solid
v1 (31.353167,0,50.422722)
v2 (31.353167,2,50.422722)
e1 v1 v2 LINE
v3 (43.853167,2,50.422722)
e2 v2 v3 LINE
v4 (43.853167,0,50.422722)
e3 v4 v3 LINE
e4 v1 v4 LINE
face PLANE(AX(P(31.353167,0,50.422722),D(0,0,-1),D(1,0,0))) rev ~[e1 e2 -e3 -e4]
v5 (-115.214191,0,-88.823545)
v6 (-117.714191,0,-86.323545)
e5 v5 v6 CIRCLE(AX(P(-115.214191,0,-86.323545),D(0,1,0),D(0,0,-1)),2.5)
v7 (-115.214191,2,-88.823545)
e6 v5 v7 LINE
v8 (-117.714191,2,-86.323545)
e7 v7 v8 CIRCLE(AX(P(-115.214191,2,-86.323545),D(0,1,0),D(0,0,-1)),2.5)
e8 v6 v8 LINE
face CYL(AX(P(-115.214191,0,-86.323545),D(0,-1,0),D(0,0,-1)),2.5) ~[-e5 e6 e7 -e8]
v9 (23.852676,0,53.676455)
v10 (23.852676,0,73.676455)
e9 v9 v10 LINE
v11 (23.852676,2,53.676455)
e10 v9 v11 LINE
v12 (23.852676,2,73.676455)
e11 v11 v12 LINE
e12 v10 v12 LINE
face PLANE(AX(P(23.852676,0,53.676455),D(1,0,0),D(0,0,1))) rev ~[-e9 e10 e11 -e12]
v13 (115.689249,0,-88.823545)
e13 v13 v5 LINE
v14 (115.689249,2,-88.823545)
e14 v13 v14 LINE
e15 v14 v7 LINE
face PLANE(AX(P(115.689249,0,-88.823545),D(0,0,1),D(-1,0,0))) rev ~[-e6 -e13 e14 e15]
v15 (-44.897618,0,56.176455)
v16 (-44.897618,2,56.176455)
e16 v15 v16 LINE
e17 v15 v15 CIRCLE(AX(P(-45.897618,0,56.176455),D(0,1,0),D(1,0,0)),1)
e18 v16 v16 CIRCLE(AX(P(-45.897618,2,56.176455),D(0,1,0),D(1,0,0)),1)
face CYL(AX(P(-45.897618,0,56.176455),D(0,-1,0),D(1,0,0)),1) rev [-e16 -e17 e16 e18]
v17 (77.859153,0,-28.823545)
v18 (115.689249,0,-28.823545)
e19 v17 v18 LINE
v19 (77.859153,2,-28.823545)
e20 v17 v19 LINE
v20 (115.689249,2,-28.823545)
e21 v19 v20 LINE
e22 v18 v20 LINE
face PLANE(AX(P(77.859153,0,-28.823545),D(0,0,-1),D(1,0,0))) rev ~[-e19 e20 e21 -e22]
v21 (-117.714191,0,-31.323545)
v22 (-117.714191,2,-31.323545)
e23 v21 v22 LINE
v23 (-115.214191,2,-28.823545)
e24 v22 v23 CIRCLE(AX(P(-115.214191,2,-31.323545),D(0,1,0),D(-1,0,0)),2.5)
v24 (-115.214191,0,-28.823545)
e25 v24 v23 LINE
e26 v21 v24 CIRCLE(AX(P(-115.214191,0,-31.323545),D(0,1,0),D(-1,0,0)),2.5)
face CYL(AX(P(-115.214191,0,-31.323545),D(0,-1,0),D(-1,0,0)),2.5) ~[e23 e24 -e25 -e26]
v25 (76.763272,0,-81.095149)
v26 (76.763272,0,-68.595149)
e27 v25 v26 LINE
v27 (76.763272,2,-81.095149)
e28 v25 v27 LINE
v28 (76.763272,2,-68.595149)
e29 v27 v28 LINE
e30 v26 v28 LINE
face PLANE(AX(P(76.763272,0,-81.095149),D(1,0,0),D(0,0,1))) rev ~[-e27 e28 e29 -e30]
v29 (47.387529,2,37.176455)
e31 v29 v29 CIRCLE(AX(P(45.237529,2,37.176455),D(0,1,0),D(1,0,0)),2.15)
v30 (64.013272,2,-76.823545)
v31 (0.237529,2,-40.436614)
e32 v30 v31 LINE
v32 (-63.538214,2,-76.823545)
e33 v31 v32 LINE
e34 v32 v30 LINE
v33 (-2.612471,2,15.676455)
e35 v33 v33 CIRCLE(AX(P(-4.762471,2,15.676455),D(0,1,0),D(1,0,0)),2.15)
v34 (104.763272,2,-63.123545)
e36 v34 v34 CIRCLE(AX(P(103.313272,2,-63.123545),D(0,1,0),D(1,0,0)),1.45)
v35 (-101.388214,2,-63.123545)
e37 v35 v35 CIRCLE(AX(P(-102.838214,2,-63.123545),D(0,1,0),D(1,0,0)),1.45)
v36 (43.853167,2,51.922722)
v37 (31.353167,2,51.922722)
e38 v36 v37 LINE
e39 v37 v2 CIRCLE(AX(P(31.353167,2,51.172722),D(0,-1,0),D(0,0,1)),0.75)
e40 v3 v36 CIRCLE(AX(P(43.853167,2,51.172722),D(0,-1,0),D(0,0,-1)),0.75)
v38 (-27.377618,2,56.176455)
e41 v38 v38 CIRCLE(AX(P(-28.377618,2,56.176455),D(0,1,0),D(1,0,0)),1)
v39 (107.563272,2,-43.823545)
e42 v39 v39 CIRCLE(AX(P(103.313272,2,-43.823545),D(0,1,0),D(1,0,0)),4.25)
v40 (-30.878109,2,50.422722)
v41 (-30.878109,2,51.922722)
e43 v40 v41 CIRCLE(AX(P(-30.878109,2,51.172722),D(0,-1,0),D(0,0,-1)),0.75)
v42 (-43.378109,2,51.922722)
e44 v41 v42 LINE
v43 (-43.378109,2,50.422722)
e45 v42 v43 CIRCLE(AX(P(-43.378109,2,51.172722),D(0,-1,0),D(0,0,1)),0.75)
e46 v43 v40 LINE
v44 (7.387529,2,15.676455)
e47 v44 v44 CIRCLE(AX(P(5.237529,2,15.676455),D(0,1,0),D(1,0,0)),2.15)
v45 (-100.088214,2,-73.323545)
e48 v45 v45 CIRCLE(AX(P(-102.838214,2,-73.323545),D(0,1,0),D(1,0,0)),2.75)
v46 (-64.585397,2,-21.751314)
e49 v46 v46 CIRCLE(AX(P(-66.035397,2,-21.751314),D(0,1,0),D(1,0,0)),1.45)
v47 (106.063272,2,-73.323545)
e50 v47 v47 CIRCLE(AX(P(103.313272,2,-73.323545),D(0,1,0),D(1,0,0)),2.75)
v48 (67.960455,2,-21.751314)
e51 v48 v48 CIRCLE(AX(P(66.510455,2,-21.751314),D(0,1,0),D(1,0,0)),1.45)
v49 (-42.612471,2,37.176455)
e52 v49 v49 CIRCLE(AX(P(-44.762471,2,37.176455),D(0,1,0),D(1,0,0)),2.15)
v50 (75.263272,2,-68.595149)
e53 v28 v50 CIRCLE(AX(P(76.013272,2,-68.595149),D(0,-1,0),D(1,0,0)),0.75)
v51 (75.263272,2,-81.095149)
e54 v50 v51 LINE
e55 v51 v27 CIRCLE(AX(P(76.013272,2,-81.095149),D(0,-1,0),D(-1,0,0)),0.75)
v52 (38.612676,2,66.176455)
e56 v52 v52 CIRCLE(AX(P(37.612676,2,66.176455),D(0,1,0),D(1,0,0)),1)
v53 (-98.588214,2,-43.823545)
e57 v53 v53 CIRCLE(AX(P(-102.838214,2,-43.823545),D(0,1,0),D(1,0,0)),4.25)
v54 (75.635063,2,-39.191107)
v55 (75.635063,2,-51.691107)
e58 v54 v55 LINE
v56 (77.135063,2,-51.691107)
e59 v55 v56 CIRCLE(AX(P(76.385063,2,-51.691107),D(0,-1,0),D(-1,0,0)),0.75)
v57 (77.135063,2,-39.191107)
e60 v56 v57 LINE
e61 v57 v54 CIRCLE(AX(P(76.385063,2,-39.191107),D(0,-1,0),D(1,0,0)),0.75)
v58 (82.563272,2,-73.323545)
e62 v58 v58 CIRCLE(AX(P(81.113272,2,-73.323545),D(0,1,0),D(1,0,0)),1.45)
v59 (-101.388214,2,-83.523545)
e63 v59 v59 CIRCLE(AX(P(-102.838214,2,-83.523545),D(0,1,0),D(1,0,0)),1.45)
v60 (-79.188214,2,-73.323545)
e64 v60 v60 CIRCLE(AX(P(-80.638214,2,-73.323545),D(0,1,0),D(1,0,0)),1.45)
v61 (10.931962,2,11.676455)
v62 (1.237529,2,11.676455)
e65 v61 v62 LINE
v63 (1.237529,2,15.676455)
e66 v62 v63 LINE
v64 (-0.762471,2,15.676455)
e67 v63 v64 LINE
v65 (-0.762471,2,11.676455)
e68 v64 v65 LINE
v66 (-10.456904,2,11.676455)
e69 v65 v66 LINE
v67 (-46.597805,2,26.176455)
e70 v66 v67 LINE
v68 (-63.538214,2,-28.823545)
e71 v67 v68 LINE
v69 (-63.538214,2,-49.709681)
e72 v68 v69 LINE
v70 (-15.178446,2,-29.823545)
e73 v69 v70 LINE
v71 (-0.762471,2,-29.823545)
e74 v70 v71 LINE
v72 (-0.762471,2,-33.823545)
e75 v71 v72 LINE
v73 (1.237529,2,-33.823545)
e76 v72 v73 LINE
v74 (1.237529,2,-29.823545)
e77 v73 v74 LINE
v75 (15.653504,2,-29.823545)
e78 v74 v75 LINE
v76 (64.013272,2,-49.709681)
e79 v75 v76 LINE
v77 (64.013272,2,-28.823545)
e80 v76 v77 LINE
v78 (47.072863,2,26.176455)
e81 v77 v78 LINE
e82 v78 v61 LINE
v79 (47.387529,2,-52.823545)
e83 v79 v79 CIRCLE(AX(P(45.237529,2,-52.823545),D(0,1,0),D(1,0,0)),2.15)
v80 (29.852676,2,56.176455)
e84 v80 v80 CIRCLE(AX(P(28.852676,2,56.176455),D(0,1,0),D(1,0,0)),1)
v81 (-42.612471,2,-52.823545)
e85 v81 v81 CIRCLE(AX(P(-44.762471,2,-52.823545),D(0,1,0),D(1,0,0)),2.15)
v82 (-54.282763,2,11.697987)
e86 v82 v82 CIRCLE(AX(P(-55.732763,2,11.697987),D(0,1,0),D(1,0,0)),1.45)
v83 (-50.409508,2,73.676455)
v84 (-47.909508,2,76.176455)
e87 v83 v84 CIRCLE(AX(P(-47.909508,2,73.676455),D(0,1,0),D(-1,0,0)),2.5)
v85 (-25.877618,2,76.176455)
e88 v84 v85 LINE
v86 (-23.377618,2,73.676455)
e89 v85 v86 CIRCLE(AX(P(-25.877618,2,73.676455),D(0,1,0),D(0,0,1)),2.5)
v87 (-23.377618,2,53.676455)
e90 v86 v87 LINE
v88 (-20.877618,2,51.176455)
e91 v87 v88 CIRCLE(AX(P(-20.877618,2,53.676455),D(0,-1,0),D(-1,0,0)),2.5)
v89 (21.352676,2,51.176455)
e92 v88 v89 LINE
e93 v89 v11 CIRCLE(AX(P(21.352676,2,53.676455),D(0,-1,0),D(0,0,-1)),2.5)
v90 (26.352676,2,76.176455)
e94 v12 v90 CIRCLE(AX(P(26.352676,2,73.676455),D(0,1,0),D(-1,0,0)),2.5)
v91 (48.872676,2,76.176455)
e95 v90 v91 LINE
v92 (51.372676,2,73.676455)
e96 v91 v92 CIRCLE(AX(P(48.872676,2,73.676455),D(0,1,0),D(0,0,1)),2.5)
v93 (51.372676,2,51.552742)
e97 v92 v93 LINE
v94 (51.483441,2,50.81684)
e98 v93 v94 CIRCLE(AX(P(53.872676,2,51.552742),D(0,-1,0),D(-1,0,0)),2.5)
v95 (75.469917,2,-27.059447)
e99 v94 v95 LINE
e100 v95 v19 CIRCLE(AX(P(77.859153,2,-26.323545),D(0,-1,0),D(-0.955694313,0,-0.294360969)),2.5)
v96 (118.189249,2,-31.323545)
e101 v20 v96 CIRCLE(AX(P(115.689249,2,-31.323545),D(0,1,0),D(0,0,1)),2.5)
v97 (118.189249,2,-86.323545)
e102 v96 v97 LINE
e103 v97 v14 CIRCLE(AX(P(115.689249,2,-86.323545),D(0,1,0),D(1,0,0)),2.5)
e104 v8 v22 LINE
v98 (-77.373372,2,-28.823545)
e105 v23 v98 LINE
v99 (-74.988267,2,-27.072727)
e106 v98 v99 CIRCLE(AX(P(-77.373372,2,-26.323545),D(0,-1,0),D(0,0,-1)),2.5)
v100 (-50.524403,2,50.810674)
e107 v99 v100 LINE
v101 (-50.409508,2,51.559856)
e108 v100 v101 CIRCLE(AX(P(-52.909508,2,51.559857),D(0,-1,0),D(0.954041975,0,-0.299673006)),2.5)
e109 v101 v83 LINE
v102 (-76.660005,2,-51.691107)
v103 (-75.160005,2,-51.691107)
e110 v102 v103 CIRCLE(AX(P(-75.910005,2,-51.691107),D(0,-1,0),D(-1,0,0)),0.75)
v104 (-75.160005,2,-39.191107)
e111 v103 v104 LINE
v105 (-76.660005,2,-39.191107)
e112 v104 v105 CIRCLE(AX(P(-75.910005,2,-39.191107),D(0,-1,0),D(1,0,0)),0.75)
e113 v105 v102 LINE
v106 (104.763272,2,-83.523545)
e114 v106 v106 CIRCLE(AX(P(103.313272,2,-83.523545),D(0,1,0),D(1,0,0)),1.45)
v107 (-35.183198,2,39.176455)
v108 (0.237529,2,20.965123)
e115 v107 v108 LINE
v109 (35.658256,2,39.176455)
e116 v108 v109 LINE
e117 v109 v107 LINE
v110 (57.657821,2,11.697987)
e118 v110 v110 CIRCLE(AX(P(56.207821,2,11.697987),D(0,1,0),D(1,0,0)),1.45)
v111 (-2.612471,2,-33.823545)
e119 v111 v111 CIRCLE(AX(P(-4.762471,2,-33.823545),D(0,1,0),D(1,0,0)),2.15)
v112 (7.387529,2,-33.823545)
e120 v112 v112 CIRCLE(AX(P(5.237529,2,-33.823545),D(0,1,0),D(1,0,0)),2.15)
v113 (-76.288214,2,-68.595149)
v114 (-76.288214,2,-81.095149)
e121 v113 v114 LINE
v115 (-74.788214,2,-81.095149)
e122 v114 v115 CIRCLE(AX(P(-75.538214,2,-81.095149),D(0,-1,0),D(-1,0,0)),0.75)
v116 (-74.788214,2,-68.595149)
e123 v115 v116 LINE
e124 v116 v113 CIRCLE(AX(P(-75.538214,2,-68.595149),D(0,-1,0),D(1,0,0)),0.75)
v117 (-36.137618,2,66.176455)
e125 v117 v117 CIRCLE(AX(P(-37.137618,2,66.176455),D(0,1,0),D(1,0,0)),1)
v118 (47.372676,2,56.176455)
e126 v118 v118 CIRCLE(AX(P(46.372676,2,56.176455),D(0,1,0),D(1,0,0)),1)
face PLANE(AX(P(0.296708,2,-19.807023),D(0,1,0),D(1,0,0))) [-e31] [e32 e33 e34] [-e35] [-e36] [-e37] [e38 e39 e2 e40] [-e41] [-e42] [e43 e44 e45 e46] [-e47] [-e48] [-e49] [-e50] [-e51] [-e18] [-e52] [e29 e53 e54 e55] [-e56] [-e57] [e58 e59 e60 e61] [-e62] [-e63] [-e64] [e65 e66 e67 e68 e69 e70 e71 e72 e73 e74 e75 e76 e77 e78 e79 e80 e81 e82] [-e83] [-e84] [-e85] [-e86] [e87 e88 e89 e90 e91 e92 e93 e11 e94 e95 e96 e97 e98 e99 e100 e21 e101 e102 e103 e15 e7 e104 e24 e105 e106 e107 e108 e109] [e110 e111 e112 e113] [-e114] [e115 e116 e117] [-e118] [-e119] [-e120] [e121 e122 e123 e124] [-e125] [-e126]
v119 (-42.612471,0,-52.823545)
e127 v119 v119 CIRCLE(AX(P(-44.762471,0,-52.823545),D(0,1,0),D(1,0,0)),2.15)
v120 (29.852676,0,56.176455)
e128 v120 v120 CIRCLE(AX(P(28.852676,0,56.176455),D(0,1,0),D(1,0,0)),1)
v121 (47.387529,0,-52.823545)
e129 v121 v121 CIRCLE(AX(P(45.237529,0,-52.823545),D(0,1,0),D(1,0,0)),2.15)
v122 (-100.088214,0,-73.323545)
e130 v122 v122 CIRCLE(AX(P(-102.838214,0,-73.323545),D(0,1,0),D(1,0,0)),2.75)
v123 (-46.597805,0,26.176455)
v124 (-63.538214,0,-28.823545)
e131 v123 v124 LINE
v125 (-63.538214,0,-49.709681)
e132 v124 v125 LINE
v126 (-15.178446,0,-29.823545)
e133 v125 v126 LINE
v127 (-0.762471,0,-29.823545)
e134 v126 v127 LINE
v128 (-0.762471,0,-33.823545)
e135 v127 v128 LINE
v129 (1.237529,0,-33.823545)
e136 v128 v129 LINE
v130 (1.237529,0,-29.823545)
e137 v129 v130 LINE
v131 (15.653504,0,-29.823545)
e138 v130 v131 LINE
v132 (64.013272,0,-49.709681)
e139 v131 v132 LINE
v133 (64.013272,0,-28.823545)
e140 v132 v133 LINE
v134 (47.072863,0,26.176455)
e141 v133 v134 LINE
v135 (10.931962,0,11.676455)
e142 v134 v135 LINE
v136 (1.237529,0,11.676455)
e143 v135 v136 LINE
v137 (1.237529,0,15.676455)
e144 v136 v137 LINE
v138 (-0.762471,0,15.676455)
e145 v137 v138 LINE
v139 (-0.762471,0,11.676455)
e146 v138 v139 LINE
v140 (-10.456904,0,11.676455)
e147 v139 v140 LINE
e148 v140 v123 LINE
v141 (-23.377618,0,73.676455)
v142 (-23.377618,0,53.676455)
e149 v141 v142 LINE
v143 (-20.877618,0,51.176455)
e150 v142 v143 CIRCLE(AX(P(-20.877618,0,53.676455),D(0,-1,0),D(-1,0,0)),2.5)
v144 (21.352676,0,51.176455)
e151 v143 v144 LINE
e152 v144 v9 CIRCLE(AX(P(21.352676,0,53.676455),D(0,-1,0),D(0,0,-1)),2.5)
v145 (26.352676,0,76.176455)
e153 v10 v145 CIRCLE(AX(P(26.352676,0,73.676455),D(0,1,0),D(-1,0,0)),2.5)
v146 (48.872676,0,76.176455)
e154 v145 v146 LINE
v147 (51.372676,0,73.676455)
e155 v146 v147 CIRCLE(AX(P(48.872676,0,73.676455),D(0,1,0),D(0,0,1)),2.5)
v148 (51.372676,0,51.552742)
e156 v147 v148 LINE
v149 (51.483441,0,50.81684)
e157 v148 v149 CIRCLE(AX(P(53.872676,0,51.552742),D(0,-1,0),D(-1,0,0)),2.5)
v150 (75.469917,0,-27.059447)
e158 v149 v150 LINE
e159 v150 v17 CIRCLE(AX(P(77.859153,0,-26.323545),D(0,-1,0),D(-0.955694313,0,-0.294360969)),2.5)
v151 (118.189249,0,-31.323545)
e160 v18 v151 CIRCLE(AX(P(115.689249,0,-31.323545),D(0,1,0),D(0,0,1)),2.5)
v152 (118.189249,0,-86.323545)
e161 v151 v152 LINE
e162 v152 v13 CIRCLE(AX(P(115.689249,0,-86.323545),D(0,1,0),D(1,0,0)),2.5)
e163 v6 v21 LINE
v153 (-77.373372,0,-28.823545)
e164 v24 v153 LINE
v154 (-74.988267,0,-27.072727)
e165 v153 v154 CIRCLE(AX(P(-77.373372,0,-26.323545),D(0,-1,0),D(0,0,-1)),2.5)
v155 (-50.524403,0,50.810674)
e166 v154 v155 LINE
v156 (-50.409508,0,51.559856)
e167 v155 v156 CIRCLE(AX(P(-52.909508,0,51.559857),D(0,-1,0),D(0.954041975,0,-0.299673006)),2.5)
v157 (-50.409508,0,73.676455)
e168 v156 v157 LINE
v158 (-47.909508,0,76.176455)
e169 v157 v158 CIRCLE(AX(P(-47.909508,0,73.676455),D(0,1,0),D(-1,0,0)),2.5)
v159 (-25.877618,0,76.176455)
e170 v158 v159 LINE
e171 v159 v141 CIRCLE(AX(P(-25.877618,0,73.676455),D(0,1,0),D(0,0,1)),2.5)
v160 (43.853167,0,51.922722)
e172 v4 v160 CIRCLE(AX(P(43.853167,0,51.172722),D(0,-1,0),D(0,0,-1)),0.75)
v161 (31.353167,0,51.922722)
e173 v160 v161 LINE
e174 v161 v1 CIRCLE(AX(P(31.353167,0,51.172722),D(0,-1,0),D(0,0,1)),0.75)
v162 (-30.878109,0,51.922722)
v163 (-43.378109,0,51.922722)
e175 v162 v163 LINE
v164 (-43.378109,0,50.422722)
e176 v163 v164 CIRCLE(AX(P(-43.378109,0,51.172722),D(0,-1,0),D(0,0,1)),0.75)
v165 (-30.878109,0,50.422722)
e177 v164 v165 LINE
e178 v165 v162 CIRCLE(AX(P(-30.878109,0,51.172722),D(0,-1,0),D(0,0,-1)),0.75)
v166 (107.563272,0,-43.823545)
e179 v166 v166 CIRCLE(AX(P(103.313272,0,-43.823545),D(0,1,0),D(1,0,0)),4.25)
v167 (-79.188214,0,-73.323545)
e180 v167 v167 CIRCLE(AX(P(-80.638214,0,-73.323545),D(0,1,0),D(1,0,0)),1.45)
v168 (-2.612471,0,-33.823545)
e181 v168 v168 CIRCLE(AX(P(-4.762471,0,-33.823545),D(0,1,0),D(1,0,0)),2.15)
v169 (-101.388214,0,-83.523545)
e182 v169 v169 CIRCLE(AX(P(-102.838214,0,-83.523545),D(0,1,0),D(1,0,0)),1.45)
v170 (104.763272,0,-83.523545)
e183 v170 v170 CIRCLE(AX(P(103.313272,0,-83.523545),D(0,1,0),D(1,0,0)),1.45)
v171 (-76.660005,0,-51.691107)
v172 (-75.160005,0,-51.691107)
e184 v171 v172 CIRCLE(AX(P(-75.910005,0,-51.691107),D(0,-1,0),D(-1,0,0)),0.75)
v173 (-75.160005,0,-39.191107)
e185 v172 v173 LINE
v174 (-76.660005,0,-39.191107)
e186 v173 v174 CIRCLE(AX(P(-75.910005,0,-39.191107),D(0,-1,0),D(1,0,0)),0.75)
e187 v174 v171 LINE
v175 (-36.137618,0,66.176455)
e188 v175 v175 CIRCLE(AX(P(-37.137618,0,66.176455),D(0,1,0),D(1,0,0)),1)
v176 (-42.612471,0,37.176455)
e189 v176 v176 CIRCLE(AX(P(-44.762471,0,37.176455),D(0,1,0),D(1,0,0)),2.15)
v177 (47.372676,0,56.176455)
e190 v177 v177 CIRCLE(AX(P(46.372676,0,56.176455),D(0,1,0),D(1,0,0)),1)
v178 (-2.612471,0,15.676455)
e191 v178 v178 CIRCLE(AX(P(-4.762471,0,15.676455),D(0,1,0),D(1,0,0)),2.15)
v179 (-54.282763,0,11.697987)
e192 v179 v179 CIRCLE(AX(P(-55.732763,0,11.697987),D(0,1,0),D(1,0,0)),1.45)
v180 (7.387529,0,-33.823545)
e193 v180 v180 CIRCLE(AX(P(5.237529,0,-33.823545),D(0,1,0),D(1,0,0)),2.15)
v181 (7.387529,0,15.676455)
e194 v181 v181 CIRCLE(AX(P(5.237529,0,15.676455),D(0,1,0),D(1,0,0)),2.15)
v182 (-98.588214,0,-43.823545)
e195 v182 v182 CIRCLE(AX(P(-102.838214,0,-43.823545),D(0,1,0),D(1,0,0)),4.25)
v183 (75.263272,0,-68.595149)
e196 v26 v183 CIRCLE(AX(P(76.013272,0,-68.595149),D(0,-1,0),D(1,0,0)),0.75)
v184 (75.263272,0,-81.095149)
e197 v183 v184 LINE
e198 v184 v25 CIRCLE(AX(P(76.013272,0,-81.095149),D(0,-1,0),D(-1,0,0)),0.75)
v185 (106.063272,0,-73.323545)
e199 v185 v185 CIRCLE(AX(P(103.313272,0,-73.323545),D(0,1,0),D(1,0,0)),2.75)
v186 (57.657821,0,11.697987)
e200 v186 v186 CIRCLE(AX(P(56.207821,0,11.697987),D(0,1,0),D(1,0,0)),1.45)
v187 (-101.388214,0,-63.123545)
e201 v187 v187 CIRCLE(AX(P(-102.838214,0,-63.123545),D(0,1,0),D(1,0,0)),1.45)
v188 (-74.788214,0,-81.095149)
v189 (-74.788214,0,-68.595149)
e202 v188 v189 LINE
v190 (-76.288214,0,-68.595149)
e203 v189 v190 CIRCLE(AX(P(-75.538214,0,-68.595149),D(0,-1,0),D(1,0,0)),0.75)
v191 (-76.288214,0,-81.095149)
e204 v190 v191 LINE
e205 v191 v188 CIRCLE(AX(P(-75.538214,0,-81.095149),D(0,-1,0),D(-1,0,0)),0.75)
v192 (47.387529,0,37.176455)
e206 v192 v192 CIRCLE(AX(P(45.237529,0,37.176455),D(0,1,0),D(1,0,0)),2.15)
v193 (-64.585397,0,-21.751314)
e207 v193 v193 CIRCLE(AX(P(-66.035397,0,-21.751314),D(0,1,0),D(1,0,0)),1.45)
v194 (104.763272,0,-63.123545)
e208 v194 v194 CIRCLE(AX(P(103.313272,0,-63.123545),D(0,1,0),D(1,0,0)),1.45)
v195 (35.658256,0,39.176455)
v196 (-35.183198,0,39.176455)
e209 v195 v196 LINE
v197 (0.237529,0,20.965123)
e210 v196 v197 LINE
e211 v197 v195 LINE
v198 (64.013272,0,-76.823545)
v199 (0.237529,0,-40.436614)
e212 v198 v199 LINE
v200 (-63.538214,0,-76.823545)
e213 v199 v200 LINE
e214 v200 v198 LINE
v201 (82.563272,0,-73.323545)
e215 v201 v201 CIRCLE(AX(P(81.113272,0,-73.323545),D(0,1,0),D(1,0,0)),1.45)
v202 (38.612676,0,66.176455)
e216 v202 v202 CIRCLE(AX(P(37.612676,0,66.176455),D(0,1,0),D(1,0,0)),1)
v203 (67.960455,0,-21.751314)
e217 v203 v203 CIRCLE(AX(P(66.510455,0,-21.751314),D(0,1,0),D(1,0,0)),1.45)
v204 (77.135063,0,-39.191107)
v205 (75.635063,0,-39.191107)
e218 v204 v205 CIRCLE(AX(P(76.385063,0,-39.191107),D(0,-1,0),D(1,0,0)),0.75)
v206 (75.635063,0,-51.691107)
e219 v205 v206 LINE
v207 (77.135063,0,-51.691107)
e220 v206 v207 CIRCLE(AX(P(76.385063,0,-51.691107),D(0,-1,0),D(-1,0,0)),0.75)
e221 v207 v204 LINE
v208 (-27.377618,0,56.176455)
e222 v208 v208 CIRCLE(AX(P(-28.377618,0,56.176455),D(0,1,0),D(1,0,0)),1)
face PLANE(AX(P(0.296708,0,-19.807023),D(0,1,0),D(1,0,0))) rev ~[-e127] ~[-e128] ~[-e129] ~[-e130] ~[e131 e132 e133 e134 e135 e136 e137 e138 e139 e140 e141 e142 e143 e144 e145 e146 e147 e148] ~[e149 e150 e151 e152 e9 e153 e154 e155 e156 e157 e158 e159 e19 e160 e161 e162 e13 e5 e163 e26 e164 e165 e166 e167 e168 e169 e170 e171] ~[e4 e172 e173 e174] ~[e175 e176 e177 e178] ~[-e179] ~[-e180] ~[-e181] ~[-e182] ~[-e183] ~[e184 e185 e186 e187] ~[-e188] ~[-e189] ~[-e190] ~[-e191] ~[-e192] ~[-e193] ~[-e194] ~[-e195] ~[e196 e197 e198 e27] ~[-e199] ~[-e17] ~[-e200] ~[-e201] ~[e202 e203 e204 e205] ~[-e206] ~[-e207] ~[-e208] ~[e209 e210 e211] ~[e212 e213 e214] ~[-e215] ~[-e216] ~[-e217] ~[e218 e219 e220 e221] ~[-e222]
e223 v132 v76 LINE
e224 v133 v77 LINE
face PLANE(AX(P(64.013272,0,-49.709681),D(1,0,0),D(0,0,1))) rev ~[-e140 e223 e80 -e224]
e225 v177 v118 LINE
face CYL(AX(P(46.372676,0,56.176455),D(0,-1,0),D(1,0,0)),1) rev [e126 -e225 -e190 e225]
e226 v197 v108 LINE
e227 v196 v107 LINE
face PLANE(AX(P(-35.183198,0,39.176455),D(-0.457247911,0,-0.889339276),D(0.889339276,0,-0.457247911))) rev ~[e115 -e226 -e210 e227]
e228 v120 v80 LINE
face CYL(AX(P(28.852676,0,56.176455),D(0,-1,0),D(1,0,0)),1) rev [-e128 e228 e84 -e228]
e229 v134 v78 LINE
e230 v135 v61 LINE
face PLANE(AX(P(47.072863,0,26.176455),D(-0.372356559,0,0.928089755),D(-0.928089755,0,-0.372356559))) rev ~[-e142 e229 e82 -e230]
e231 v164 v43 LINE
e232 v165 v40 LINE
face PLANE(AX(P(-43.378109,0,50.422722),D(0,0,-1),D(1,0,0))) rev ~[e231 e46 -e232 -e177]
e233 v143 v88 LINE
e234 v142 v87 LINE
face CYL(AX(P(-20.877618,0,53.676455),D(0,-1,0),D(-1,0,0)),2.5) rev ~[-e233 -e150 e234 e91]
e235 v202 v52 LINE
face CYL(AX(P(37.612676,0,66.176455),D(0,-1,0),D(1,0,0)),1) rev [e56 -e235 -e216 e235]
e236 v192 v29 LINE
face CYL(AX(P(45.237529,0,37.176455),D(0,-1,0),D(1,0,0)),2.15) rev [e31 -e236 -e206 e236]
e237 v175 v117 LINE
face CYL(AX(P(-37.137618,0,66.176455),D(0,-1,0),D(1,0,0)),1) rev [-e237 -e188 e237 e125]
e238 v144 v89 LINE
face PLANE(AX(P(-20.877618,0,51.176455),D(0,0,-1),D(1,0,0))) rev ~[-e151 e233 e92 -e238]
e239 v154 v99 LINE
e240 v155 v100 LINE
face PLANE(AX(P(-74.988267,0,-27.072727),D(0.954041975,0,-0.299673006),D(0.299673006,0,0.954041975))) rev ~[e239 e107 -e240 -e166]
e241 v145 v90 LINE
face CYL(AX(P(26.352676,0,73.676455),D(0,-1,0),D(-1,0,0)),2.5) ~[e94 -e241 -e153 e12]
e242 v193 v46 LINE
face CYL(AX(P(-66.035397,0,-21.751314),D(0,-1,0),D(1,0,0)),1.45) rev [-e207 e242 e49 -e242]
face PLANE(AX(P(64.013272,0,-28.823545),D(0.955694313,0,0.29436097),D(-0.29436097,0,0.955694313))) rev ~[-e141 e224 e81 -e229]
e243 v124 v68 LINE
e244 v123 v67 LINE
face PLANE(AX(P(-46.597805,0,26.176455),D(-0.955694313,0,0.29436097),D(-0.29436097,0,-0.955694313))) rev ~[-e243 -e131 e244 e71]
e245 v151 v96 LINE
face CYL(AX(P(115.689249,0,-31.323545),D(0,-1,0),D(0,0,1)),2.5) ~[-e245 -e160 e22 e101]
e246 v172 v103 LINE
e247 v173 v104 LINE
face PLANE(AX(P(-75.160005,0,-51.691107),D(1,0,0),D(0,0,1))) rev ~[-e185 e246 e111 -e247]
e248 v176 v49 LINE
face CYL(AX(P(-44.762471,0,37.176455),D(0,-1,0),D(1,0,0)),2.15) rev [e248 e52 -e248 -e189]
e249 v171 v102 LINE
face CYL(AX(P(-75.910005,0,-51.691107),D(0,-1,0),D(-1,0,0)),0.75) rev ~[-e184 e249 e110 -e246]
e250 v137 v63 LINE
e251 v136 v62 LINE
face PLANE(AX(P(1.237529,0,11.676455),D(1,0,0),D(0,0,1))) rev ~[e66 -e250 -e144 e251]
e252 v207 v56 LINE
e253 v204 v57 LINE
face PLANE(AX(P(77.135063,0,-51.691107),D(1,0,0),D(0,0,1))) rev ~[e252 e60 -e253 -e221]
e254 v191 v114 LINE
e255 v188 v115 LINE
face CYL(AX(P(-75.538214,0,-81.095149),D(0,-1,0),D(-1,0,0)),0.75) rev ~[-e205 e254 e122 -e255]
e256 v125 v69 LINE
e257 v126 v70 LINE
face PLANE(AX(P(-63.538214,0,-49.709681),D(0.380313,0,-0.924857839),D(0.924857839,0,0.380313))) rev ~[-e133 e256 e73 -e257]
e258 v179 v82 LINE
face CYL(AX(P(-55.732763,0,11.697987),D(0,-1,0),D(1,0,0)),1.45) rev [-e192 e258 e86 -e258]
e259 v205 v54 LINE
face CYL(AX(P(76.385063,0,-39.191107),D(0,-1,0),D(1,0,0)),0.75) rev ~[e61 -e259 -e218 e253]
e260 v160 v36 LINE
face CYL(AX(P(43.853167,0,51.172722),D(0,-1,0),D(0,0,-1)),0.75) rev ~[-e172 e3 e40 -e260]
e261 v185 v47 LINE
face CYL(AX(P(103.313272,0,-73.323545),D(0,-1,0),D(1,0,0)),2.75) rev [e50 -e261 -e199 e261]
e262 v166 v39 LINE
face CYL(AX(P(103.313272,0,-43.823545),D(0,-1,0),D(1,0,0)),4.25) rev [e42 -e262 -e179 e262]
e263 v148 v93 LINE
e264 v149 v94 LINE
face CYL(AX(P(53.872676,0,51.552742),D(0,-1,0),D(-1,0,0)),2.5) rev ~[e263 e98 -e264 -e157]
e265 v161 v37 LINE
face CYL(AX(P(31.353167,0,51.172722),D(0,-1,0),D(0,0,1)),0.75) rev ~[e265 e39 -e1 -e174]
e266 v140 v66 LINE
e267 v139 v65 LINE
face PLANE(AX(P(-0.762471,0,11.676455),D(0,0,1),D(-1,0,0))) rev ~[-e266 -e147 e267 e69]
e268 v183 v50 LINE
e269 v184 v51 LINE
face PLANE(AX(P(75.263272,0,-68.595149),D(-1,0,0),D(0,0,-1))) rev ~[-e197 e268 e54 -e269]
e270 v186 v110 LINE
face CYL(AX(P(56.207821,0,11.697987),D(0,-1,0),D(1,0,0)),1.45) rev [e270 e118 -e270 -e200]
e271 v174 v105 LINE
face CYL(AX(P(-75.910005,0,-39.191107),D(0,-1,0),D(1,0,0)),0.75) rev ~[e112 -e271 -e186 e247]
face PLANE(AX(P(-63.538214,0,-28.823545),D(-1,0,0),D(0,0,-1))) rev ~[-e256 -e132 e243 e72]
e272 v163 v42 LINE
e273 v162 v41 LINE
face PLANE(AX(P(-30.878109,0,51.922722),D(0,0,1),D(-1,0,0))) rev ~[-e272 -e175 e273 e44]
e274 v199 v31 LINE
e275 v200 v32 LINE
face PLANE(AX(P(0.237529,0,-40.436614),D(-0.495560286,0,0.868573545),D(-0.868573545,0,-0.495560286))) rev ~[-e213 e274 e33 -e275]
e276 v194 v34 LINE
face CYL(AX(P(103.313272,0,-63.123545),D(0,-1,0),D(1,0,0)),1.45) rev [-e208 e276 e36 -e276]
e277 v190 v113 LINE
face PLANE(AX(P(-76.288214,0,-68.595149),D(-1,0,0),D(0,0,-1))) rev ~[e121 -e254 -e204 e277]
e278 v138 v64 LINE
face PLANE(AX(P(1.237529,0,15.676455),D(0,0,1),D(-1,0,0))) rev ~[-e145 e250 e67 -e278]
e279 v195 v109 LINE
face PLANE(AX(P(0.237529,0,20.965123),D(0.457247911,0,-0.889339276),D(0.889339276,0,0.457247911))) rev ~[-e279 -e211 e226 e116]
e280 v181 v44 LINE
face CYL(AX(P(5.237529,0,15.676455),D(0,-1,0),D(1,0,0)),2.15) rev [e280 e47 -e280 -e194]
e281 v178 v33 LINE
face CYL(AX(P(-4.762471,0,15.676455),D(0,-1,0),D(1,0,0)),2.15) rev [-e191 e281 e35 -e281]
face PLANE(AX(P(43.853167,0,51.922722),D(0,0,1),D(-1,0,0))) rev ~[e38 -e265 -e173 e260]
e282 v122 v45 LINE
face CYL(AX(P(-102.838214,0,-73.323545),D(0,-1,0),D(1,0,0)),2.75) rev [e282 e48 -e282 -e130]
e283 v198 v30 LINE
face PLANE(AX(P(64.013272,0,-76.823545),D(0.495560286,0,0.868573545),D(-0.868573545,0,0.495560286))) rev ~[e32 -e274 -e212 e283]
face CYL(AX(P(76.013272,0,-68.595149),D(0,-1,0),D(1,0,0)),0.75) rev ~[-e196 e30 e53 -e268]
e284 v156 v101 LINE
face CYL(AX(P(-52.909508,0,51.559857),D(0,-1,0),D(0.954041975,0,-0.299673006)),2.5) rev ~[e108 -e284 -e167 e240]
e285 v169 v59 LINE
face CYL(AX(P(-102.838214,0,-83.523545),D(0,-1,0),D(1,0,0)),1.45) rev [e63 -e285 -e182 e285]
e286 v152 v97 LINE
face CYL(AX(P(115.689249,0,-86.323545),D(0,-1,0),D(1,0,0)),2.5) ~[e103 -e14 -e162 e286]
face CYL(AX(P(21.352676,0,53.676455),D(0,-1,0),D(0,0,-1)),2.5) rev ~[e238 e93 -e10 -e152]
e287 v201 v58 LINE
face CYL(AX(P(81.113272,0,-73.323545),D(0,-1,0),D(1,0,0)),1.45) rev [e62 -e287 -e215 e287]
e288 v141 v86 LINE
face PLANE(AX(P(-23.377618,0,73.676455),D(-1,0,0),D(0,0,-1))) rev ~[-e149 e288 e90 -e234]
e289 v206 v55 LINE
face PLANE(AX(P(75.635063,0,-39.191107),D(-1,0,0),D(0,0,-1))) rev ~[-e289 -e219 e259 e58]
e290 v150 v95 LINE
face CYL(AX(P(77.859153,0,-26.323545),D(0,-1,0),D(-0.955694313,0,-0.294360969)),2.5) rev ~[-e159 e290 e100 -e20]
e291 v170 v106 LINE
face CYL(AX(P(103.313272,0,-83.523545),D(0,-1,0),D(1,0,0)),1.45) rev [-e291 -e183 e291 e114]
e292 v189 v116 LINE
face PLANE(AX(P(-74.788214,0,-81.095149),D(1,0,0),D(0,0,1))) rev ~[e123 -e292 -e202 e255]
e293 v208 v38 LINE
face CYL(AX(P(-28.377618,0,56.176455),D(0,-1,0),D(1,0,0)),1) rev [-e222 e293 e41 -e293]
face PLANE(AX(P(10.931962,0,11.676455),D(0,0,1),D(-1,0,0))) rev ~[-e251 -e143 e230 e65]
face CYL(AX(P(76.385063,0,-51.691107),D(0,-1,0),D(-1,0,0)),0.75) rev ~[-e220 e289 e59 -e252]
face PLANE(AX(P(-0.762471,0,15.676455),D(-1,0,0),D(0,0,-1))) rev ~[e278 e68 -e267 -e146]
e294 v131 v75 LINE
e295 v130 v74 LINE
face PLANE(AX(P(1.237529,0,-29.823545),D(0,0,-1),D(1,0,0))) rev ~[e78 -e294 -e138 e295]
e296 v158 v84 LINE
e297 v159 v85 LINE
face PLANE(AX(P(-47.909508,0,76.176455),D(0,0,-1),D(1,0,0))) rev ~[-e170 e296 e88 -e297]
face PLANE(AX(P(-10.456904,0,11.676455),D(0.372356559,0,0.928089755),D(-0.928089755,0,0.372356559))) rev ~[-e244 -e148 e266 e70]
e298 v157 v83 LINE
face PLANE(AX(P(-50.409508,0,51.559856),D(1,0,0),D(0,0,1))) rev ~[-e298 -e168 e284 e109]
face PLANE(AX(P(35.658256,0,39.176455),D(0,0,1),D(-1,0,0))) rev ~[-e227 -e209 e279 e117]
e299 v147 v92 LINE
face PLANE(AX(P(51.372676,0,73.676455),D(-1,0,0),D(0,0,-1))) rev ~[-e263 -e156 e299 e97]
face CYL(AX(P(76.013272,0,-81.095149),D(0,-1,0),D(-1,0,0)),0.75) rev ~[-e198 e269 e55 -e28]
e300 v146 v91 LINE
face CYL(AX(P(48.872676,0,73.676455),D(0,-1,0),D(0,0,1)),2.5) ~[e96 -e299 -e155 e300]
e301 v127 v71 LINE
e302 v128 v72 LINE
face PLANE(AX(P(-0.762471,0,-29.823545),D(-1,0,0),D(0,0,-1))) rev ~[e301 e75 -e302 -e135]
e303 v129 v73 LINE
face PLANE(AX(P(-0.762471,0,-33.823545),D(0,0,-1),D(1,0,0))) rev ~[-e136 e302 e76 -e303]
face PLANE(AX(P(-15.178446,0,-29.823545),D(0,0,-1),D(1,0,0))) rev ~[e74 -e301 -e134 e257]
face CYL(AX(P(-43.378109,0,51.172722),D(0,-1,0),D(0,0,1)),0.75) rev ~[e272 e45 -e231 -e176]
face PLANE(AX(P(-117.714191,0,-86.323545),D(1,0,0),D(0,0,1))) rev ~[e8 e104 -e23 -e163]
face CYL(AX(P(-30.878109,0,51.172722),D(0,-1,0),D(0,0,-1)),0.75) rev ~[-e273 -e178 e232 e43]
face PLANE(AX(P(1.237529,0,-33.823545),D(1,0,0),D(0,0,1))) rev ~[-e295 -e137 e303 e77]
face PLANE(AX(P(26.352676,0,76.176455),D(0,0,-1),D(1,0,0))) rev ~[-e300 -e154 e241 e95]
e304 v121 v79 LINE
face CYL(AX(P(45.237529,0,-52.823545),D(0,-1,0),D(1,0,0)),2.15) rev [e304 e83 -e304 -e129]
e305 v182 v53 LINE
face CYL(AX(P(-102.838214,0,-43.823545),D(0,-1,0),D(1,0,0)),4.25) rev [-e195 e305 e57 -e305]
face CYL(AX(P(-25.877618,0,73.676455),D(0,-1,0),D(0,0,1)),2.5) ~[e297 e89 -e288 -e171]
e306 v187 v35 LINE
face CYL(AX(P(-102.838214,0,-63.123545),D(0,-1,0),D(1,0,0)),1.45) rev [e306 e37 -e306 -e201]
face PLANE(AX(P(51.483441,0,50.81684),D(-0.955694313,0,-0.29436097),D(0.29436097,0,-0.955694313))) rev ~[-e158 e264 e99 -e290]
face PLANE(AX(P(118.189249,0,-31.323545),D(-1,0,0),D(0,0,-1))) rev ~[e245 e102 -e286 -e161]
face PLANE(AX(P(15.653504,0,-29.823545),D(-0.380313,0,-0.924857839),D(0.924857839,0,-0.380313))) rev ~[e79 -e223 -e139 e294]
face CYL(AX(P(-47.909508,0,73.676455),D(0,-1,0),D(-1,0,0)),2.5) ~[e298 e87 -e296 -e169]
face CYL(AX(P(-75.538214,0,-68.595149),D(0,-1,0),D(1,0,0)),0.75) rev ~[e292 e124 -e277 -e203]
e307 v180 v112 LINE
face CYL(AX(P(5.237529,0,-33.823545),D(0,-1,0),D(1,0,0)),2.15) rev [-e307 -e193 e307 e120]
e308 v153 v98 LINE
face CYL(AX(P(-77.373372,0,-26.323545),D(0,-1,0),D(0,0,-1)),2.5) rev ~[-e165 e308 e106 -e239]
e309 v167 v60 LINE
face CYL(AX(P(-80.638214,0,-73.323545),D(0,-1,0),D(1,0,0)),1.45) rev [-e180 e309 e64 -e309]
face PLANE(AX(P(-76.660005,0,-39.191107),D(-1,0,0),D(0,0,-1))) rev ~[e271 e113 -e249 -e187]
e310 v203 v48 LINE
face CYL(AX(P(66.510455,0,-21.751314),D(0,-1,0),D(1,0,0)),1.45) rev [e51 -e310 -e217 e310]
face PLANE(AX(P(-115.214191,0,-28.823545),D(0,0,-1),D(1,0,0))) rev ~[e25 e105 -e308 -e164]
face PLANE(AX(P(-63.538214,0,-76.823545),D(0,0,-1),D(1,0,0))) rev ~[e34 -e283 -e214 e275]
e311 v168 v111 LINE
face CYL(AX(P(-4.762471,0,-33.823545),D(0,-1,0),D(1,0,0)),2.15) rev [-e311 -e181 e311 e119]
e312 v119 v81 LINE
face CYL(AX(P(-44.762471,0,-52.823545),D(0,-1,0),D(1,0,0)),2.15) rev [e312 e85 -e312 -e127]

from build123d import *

# Parameters (mm, degrees)
SKETCH26_R          = 1
SKETCH26_R_2        = 2.15
SKETCH26_R_3        = 1.45
SKETCH26_R_4        = 4.25
SKETCH26_R_5        = 2.75
BOSS_EXTRUDE4_DEPTH = 2


with BuildPart() as part:
    # Sketch26 → Boss-Extrude4 (new body)
    with BuildSketch(Plane(origin=(0, 0, 0), x_dir=(1, 0, 0), z_dir=(0, 1, 0))):
        with BuildLine():
            Line((-20.877618357, -51.176455051), (21.352676296, -51.176455051))
            ThreePointArc((21.352676296, -51.176455051), (23.120443249, -51.908688098), (23.852676296, -53.676455051))
            Line((23.852676296, -53.676455051), (23.852676296, -73.676455051))
            ThreePointArc((23.852676296, -73.676455051), (24.584909343, -75.444222004), (26.352676296, -76.176455051))
            Line((26.352676296, -76.176455051), (48.872676296, -76.176455051))
            ThreePointArc((48.872676296, -76.176455051), (50.640443249, -75.444222004), (51.372676296, -73.676455051))
            Line((51.372676296, -73.676455051), (51.372676296, -51.552742091))
            ThreePointArc((51.372676296, -51.552742091), (51.400522432, -51.180646307), (51.483440514, -50.816839667))
            Line((51.483440514, -50.816839667), (75.469917209, 27.059447373))
            ThreePointArc((75.469917209, 27.059447373), (76.374187682, 28.334733163), (77.859152991, 28.823544949))
            Line((77.859152991, 28.823544949), (115.689249226, 28.823544949))
            ThreePointArc((115.689249226, 28.823544949), (117.457016179, 29.555777996), (118.189249226, 31.323544949))
            Line((118.189249226, 31.323544949), (118.189249226, 86.323544949))
            ThreePointArc((118.189249226, 86.323544949), (117.457016179, 88.091311902), (115.689249226, 88.823544949))
            Line((115.689249226, 88.823544949), (76.013272408, 88.823544949))
            Line((76.013272408, 88.823544949), (-75.538214468, 88.823544949))
            Line((-75.538214468, 88.823544949), (-76.032763958, 88.823544949))
            Line((-76.032763958, 88.823544949), (-115.214191287, 88.823544949))
            ThreePointArc((-115.214191287, 88.823544949), (-116.98195824, 88.091311902), (-117.714191287, 86.323544949))
            Line((-117.714191287, 86.323544949), (-117.714191287, 31.323544949))
            ThreePointArc((-117.714191287, 31.323544949), (-116.98195824, 29.555777996), (-115.214191287, 28.823544949))
            Line((-115.214191287, 28.823544949), (-77.373372177, 28.823544949))
            ThreePointArc((-77.373372177, 28.823544949), (-75.894006821, 28.338855879), (-74.98826724, 27.072727465))
            Line((-74.98826724, 27.072727465), (-50.52440331, -50.81067398))
            ThreePointArc((-50.52440331, -50.81067398), (-50.438398947, -51.180885745), (-50.409508246, -51.559856495))
            Line((-50.409508246, -51.559856495), (-50.409508246, -73.676455051))
            ThreePointArc((-50.409508246, -73.676455051), (-49.677275199, -75.444222004), (-47.909508246, -76.176455051))
            Line((-47.909508246, -76.176455051), (-25.877618357, -76.176455051))
            ThreePointArc((-25.877618357, -76.176455051), (-24.109851404, -75.444222004), (-23.377618357, -73.676455051))
            Line((-23.377618357, -73.676455051), (-23.377618357, -53.676455051))
            ThreePointArc((-23.377618357, -53.676455051), (-22.64538531, -51.908688098), (-20.877618357, -51.176455051))
        make_face()
        with Locations((-37.137618357, -66.176455051)):
            Circle(SKETCH26_R, mode=Mode.SUBTRACT)
        with Locations((-45.897618357, -56.176455051)):
            Circle(SKETCH26_R, mode=Mode.SUBTRACT)
        with Locations((-28.377618357, -56.176455051)):
            Circle(SKETCH26_R, mode=Mode.SUBTRACT)
        with BuildLine():
            Line((-43.378108588, -50.422722318), (-30.878108588, -50.422722318))
            ThreePointArc((-30.878108588, -50.422722318), (-30.128108588, -51.172722318), (-30.878108588, -51.922722318))
            Line((-30.878108588, -51.922722318), (-43.378108588, -51.922722318))
            ThreePointArc((-43.378108588, -51.922722318), (-44.128108588, -51.172722318), (-43.378108588, -50.422722318))
        make_face(mode=Mode.SUBTRACT)
        with Locations((-44.76247103, -37.176455051)):
            Circle(SKETCH26_R_2, mode=Mode.SUBTRACT)
        with Locations((-4.76247103, -15.676455051)):
            Circle(SKETCH26_R_2, mode=Mode.SUBTRACT)
        with Locations((-55.732763009, -11.697986619)):
            Circle(SKETCH26_R_3, mode=Mode.SUBTRACT)
        with Locations((28.852676296, -56.176455051)):
            Circle(SKETCH26_R, mode=Mode.SUBTRACT)
        with Locations((37.612676296, -66.176455051)):
            Circle(SKETCH26_R, mode=Mode.SUBTRACT)
        with Locations((46.372676296, -56.176455051)):
            Circle(SKETCH26_R, mode=Mode.SUBTRACT)
        with BuildLine():
            ThreePointArc((31.353166528, -51.922722318), (30.603166528, -51.172722318), (31.353166528, -50.422722318))
            Line((31.353166528, -50.422722318), (43.853166528, -50.422722318))
            ThreePointArc((43.853166528, -50.422722318), (44.603166528, -51.172722318), (43.853166528, -51.922722318))
            Line((43.853166528, -51.922722318), (31.353166528, -51.922722318))
        make_face(mode=Mode.SUBTRACT)
        with Locations((45.23752897, -37.176455051)):
            Circle(SKETCH26_R_2, mode=Mode.SUBTRACT)
        Polygon((35.658255702, -39.176455051), (-35.183197763, -39.176455051), (0.23752897, -20.965122509), align=None, mode=Mode.SUBTRACT)
        with Locations((5.23752897, -15.676455051)):
            Circle(SKETCH26_R_2, mode=Mode.SUBTRACT)
        with Locations((56.207820949, -11.697986619)):
            Circle(SKETCH26_R_3, mode=Mode.SUBTRACT)
        with Locations((-66.035396945, 21.75131433)):
            Circle(SKETCH26_R_3, mode=Mode.SUBTRACT)
        with Locations((-102.838214468, 43.823544949)):
            Circle(SKETCH26_R_4, mode=Mode.SUBTRACT)
        with BuildLine():
            ThreePointArc((-75.160005035, 39.191107079), (-75.910005035, 38.441107079), (-76.660005035, 39.191107079))
            Line((-76.660005035, 39.191107079), (-76.660005035, 51.691107079))
            ThreePointArc((-76.660005035, 51.691107079), (-75.910005035, 52.441107079), (-75.160005035, 51.691107079))
            Line((-75.160005035, 51.691107079), (-75.160005035, 39.191107079))
        make_face(mode=Mode.SUBTRACT)
        Polygon((-10.456903842, -11.676455051), (-46.597804641, -26.176455051), (-63.538214468, 28.823544949), (-63.538214468, 49.70968094), (-15.178445609, 29.823544949), (-0.76247103, 29.823544949), (-0.76247103, 33.823544949), (1.23752897, 33.823544949), (1.23752897, 29.823544949), (15.653503549, 29.823544949), (64.013272408, 49.70968094), (64.013272408, 28.823544949), (47.072862581, -26.176455051), (10.931961782, -11.676455051), (1.23752897, -11.676455051), (1.23752897, -15.676455051), (-0.76247103, -15.676455051), (-0.76247103, -11.676455051), align=None, mode=Mode.SUBTRACT)
        with Locations((-4.76247103, 33.823544949)):
            Circle(SKETCH26_R_2, mode=Mode.SUBTRACT)
        with Locations((-102.838214468, 63.123544949)):
            Circle(SKETCH26_R_3, mode=Mode.SUBTRACT)
        with Locations((-102.838214468, 73.323544949)):
            Circle(SKETCH26_R_5, mode=Mode.SUBTRACT)
        with Locations((-102.838214468, 83.523544949)):
            Circle(SKETCH26_R_3, mode=Mode.SUBTRACT)
        with Locations((-80.638214468, 73.323544949)):
            Circle(SKETCH26_R_3, mode=Mode.SUBTRACT)
        with BuildLine():
            ThreePointArc((-76.288214468, 81.095149015), (-75.538214468, 81.845149015), (-74.788214468, 81.095149015))
            Line((-74.788214468, 81.095149015), (-74.788214468, 68.595149015))
            ThreePointArc((-74.788214468, 68.595149015), (-75.538214468, 67.845149015), (-76.288214468, 68.595149015))
            Line((-76.288214468, 68.595149015), (-76.288214468, 81.095149015))
        make_face(mode=Mode.SUBTRACT)
        with Locations((-44.76247103, 52.823544949)):
            Circle(SKETCH26_R_2, mode=Mode.SUBTRACT)
        Polygon((0.23752897, 40.436613896), (-63.538214468, 76.823544949), (64.013272408, 76.823544949), align=None, mode=Mode.SUBTRACT)
        with Locations((5.23752897, 33.823544949)):
            Circle(SKETCH26_R_2, mode=Mode.SUBTRACT)
        with Locations((66.510454885, 21.75131433)):
            Circle(SKETCH26_R_3, mode=Mode.SUBTRACT)
        with BuildLine():
            Line((77.135062974, 51.691107079), (77.135062974, 39.191107079))
            ThreePointArc((77.135062974, 39.191107079), (76.385062974, 38.441107079), (75.635062974, 39.191107079))
            Line((75.635062974, 39.191107079), (75.635062974, 51.691107079))
            ThreePointArc((75.635062974, 51.691107079), (76.385062974, 52.441107079), (77.135062974, 51.691107079))
        make_face(mode=Mode.SUBTRACT)
        with Locations((103.313272408, 43.823544949)):
            Circle(SKETCH26_R_4, mode=Mode.SUBTRACT)
        with Locations((45.23752897, 52.823544949)):
            Circle(SKETCH26_R_2, mode=Mode.SUBTRACT)
        with Locations((103.313272408, 63.123544949)):
            Circle(SKETCH26_R_3, mode=Mode.SUBTRACT)
        with Locations((81.113272408, 73.323544949)):
            Circle(SKETCH26_R_3, mode=Mode.SUBTRACT)
        with BuildLine():
            Line((75.263272408, 68.595149015), (75.263272408, 81.095149015))
            ThreePointArc((75.263272408, 81.095149015), (76.013272408, 81.845149015), (76.763272408, 81.095149015))
            Line((76.763272408, 81.095149015), (76.763272408, 68.595149015))
            ThreePointArc((76.763272408, 68.595149015), (76.013272408, 67.845149015), (75.263272408, 68.595149015))
        make_face(mode=Mode.SUBTRACT)
        with Locations((103.313272408, 73.323544949)):
            Circle(SKETCH26_R_5, mode=Mode.SUBTRACT)
        with Locations((103.313272408, 83.523544949)):
            Circle(SKETCH26_R_3, mode=Mode.SUBTRACT)
    extrude(amount=BOSS_EXTRUDE4_DEPTH)


solid = part.part
